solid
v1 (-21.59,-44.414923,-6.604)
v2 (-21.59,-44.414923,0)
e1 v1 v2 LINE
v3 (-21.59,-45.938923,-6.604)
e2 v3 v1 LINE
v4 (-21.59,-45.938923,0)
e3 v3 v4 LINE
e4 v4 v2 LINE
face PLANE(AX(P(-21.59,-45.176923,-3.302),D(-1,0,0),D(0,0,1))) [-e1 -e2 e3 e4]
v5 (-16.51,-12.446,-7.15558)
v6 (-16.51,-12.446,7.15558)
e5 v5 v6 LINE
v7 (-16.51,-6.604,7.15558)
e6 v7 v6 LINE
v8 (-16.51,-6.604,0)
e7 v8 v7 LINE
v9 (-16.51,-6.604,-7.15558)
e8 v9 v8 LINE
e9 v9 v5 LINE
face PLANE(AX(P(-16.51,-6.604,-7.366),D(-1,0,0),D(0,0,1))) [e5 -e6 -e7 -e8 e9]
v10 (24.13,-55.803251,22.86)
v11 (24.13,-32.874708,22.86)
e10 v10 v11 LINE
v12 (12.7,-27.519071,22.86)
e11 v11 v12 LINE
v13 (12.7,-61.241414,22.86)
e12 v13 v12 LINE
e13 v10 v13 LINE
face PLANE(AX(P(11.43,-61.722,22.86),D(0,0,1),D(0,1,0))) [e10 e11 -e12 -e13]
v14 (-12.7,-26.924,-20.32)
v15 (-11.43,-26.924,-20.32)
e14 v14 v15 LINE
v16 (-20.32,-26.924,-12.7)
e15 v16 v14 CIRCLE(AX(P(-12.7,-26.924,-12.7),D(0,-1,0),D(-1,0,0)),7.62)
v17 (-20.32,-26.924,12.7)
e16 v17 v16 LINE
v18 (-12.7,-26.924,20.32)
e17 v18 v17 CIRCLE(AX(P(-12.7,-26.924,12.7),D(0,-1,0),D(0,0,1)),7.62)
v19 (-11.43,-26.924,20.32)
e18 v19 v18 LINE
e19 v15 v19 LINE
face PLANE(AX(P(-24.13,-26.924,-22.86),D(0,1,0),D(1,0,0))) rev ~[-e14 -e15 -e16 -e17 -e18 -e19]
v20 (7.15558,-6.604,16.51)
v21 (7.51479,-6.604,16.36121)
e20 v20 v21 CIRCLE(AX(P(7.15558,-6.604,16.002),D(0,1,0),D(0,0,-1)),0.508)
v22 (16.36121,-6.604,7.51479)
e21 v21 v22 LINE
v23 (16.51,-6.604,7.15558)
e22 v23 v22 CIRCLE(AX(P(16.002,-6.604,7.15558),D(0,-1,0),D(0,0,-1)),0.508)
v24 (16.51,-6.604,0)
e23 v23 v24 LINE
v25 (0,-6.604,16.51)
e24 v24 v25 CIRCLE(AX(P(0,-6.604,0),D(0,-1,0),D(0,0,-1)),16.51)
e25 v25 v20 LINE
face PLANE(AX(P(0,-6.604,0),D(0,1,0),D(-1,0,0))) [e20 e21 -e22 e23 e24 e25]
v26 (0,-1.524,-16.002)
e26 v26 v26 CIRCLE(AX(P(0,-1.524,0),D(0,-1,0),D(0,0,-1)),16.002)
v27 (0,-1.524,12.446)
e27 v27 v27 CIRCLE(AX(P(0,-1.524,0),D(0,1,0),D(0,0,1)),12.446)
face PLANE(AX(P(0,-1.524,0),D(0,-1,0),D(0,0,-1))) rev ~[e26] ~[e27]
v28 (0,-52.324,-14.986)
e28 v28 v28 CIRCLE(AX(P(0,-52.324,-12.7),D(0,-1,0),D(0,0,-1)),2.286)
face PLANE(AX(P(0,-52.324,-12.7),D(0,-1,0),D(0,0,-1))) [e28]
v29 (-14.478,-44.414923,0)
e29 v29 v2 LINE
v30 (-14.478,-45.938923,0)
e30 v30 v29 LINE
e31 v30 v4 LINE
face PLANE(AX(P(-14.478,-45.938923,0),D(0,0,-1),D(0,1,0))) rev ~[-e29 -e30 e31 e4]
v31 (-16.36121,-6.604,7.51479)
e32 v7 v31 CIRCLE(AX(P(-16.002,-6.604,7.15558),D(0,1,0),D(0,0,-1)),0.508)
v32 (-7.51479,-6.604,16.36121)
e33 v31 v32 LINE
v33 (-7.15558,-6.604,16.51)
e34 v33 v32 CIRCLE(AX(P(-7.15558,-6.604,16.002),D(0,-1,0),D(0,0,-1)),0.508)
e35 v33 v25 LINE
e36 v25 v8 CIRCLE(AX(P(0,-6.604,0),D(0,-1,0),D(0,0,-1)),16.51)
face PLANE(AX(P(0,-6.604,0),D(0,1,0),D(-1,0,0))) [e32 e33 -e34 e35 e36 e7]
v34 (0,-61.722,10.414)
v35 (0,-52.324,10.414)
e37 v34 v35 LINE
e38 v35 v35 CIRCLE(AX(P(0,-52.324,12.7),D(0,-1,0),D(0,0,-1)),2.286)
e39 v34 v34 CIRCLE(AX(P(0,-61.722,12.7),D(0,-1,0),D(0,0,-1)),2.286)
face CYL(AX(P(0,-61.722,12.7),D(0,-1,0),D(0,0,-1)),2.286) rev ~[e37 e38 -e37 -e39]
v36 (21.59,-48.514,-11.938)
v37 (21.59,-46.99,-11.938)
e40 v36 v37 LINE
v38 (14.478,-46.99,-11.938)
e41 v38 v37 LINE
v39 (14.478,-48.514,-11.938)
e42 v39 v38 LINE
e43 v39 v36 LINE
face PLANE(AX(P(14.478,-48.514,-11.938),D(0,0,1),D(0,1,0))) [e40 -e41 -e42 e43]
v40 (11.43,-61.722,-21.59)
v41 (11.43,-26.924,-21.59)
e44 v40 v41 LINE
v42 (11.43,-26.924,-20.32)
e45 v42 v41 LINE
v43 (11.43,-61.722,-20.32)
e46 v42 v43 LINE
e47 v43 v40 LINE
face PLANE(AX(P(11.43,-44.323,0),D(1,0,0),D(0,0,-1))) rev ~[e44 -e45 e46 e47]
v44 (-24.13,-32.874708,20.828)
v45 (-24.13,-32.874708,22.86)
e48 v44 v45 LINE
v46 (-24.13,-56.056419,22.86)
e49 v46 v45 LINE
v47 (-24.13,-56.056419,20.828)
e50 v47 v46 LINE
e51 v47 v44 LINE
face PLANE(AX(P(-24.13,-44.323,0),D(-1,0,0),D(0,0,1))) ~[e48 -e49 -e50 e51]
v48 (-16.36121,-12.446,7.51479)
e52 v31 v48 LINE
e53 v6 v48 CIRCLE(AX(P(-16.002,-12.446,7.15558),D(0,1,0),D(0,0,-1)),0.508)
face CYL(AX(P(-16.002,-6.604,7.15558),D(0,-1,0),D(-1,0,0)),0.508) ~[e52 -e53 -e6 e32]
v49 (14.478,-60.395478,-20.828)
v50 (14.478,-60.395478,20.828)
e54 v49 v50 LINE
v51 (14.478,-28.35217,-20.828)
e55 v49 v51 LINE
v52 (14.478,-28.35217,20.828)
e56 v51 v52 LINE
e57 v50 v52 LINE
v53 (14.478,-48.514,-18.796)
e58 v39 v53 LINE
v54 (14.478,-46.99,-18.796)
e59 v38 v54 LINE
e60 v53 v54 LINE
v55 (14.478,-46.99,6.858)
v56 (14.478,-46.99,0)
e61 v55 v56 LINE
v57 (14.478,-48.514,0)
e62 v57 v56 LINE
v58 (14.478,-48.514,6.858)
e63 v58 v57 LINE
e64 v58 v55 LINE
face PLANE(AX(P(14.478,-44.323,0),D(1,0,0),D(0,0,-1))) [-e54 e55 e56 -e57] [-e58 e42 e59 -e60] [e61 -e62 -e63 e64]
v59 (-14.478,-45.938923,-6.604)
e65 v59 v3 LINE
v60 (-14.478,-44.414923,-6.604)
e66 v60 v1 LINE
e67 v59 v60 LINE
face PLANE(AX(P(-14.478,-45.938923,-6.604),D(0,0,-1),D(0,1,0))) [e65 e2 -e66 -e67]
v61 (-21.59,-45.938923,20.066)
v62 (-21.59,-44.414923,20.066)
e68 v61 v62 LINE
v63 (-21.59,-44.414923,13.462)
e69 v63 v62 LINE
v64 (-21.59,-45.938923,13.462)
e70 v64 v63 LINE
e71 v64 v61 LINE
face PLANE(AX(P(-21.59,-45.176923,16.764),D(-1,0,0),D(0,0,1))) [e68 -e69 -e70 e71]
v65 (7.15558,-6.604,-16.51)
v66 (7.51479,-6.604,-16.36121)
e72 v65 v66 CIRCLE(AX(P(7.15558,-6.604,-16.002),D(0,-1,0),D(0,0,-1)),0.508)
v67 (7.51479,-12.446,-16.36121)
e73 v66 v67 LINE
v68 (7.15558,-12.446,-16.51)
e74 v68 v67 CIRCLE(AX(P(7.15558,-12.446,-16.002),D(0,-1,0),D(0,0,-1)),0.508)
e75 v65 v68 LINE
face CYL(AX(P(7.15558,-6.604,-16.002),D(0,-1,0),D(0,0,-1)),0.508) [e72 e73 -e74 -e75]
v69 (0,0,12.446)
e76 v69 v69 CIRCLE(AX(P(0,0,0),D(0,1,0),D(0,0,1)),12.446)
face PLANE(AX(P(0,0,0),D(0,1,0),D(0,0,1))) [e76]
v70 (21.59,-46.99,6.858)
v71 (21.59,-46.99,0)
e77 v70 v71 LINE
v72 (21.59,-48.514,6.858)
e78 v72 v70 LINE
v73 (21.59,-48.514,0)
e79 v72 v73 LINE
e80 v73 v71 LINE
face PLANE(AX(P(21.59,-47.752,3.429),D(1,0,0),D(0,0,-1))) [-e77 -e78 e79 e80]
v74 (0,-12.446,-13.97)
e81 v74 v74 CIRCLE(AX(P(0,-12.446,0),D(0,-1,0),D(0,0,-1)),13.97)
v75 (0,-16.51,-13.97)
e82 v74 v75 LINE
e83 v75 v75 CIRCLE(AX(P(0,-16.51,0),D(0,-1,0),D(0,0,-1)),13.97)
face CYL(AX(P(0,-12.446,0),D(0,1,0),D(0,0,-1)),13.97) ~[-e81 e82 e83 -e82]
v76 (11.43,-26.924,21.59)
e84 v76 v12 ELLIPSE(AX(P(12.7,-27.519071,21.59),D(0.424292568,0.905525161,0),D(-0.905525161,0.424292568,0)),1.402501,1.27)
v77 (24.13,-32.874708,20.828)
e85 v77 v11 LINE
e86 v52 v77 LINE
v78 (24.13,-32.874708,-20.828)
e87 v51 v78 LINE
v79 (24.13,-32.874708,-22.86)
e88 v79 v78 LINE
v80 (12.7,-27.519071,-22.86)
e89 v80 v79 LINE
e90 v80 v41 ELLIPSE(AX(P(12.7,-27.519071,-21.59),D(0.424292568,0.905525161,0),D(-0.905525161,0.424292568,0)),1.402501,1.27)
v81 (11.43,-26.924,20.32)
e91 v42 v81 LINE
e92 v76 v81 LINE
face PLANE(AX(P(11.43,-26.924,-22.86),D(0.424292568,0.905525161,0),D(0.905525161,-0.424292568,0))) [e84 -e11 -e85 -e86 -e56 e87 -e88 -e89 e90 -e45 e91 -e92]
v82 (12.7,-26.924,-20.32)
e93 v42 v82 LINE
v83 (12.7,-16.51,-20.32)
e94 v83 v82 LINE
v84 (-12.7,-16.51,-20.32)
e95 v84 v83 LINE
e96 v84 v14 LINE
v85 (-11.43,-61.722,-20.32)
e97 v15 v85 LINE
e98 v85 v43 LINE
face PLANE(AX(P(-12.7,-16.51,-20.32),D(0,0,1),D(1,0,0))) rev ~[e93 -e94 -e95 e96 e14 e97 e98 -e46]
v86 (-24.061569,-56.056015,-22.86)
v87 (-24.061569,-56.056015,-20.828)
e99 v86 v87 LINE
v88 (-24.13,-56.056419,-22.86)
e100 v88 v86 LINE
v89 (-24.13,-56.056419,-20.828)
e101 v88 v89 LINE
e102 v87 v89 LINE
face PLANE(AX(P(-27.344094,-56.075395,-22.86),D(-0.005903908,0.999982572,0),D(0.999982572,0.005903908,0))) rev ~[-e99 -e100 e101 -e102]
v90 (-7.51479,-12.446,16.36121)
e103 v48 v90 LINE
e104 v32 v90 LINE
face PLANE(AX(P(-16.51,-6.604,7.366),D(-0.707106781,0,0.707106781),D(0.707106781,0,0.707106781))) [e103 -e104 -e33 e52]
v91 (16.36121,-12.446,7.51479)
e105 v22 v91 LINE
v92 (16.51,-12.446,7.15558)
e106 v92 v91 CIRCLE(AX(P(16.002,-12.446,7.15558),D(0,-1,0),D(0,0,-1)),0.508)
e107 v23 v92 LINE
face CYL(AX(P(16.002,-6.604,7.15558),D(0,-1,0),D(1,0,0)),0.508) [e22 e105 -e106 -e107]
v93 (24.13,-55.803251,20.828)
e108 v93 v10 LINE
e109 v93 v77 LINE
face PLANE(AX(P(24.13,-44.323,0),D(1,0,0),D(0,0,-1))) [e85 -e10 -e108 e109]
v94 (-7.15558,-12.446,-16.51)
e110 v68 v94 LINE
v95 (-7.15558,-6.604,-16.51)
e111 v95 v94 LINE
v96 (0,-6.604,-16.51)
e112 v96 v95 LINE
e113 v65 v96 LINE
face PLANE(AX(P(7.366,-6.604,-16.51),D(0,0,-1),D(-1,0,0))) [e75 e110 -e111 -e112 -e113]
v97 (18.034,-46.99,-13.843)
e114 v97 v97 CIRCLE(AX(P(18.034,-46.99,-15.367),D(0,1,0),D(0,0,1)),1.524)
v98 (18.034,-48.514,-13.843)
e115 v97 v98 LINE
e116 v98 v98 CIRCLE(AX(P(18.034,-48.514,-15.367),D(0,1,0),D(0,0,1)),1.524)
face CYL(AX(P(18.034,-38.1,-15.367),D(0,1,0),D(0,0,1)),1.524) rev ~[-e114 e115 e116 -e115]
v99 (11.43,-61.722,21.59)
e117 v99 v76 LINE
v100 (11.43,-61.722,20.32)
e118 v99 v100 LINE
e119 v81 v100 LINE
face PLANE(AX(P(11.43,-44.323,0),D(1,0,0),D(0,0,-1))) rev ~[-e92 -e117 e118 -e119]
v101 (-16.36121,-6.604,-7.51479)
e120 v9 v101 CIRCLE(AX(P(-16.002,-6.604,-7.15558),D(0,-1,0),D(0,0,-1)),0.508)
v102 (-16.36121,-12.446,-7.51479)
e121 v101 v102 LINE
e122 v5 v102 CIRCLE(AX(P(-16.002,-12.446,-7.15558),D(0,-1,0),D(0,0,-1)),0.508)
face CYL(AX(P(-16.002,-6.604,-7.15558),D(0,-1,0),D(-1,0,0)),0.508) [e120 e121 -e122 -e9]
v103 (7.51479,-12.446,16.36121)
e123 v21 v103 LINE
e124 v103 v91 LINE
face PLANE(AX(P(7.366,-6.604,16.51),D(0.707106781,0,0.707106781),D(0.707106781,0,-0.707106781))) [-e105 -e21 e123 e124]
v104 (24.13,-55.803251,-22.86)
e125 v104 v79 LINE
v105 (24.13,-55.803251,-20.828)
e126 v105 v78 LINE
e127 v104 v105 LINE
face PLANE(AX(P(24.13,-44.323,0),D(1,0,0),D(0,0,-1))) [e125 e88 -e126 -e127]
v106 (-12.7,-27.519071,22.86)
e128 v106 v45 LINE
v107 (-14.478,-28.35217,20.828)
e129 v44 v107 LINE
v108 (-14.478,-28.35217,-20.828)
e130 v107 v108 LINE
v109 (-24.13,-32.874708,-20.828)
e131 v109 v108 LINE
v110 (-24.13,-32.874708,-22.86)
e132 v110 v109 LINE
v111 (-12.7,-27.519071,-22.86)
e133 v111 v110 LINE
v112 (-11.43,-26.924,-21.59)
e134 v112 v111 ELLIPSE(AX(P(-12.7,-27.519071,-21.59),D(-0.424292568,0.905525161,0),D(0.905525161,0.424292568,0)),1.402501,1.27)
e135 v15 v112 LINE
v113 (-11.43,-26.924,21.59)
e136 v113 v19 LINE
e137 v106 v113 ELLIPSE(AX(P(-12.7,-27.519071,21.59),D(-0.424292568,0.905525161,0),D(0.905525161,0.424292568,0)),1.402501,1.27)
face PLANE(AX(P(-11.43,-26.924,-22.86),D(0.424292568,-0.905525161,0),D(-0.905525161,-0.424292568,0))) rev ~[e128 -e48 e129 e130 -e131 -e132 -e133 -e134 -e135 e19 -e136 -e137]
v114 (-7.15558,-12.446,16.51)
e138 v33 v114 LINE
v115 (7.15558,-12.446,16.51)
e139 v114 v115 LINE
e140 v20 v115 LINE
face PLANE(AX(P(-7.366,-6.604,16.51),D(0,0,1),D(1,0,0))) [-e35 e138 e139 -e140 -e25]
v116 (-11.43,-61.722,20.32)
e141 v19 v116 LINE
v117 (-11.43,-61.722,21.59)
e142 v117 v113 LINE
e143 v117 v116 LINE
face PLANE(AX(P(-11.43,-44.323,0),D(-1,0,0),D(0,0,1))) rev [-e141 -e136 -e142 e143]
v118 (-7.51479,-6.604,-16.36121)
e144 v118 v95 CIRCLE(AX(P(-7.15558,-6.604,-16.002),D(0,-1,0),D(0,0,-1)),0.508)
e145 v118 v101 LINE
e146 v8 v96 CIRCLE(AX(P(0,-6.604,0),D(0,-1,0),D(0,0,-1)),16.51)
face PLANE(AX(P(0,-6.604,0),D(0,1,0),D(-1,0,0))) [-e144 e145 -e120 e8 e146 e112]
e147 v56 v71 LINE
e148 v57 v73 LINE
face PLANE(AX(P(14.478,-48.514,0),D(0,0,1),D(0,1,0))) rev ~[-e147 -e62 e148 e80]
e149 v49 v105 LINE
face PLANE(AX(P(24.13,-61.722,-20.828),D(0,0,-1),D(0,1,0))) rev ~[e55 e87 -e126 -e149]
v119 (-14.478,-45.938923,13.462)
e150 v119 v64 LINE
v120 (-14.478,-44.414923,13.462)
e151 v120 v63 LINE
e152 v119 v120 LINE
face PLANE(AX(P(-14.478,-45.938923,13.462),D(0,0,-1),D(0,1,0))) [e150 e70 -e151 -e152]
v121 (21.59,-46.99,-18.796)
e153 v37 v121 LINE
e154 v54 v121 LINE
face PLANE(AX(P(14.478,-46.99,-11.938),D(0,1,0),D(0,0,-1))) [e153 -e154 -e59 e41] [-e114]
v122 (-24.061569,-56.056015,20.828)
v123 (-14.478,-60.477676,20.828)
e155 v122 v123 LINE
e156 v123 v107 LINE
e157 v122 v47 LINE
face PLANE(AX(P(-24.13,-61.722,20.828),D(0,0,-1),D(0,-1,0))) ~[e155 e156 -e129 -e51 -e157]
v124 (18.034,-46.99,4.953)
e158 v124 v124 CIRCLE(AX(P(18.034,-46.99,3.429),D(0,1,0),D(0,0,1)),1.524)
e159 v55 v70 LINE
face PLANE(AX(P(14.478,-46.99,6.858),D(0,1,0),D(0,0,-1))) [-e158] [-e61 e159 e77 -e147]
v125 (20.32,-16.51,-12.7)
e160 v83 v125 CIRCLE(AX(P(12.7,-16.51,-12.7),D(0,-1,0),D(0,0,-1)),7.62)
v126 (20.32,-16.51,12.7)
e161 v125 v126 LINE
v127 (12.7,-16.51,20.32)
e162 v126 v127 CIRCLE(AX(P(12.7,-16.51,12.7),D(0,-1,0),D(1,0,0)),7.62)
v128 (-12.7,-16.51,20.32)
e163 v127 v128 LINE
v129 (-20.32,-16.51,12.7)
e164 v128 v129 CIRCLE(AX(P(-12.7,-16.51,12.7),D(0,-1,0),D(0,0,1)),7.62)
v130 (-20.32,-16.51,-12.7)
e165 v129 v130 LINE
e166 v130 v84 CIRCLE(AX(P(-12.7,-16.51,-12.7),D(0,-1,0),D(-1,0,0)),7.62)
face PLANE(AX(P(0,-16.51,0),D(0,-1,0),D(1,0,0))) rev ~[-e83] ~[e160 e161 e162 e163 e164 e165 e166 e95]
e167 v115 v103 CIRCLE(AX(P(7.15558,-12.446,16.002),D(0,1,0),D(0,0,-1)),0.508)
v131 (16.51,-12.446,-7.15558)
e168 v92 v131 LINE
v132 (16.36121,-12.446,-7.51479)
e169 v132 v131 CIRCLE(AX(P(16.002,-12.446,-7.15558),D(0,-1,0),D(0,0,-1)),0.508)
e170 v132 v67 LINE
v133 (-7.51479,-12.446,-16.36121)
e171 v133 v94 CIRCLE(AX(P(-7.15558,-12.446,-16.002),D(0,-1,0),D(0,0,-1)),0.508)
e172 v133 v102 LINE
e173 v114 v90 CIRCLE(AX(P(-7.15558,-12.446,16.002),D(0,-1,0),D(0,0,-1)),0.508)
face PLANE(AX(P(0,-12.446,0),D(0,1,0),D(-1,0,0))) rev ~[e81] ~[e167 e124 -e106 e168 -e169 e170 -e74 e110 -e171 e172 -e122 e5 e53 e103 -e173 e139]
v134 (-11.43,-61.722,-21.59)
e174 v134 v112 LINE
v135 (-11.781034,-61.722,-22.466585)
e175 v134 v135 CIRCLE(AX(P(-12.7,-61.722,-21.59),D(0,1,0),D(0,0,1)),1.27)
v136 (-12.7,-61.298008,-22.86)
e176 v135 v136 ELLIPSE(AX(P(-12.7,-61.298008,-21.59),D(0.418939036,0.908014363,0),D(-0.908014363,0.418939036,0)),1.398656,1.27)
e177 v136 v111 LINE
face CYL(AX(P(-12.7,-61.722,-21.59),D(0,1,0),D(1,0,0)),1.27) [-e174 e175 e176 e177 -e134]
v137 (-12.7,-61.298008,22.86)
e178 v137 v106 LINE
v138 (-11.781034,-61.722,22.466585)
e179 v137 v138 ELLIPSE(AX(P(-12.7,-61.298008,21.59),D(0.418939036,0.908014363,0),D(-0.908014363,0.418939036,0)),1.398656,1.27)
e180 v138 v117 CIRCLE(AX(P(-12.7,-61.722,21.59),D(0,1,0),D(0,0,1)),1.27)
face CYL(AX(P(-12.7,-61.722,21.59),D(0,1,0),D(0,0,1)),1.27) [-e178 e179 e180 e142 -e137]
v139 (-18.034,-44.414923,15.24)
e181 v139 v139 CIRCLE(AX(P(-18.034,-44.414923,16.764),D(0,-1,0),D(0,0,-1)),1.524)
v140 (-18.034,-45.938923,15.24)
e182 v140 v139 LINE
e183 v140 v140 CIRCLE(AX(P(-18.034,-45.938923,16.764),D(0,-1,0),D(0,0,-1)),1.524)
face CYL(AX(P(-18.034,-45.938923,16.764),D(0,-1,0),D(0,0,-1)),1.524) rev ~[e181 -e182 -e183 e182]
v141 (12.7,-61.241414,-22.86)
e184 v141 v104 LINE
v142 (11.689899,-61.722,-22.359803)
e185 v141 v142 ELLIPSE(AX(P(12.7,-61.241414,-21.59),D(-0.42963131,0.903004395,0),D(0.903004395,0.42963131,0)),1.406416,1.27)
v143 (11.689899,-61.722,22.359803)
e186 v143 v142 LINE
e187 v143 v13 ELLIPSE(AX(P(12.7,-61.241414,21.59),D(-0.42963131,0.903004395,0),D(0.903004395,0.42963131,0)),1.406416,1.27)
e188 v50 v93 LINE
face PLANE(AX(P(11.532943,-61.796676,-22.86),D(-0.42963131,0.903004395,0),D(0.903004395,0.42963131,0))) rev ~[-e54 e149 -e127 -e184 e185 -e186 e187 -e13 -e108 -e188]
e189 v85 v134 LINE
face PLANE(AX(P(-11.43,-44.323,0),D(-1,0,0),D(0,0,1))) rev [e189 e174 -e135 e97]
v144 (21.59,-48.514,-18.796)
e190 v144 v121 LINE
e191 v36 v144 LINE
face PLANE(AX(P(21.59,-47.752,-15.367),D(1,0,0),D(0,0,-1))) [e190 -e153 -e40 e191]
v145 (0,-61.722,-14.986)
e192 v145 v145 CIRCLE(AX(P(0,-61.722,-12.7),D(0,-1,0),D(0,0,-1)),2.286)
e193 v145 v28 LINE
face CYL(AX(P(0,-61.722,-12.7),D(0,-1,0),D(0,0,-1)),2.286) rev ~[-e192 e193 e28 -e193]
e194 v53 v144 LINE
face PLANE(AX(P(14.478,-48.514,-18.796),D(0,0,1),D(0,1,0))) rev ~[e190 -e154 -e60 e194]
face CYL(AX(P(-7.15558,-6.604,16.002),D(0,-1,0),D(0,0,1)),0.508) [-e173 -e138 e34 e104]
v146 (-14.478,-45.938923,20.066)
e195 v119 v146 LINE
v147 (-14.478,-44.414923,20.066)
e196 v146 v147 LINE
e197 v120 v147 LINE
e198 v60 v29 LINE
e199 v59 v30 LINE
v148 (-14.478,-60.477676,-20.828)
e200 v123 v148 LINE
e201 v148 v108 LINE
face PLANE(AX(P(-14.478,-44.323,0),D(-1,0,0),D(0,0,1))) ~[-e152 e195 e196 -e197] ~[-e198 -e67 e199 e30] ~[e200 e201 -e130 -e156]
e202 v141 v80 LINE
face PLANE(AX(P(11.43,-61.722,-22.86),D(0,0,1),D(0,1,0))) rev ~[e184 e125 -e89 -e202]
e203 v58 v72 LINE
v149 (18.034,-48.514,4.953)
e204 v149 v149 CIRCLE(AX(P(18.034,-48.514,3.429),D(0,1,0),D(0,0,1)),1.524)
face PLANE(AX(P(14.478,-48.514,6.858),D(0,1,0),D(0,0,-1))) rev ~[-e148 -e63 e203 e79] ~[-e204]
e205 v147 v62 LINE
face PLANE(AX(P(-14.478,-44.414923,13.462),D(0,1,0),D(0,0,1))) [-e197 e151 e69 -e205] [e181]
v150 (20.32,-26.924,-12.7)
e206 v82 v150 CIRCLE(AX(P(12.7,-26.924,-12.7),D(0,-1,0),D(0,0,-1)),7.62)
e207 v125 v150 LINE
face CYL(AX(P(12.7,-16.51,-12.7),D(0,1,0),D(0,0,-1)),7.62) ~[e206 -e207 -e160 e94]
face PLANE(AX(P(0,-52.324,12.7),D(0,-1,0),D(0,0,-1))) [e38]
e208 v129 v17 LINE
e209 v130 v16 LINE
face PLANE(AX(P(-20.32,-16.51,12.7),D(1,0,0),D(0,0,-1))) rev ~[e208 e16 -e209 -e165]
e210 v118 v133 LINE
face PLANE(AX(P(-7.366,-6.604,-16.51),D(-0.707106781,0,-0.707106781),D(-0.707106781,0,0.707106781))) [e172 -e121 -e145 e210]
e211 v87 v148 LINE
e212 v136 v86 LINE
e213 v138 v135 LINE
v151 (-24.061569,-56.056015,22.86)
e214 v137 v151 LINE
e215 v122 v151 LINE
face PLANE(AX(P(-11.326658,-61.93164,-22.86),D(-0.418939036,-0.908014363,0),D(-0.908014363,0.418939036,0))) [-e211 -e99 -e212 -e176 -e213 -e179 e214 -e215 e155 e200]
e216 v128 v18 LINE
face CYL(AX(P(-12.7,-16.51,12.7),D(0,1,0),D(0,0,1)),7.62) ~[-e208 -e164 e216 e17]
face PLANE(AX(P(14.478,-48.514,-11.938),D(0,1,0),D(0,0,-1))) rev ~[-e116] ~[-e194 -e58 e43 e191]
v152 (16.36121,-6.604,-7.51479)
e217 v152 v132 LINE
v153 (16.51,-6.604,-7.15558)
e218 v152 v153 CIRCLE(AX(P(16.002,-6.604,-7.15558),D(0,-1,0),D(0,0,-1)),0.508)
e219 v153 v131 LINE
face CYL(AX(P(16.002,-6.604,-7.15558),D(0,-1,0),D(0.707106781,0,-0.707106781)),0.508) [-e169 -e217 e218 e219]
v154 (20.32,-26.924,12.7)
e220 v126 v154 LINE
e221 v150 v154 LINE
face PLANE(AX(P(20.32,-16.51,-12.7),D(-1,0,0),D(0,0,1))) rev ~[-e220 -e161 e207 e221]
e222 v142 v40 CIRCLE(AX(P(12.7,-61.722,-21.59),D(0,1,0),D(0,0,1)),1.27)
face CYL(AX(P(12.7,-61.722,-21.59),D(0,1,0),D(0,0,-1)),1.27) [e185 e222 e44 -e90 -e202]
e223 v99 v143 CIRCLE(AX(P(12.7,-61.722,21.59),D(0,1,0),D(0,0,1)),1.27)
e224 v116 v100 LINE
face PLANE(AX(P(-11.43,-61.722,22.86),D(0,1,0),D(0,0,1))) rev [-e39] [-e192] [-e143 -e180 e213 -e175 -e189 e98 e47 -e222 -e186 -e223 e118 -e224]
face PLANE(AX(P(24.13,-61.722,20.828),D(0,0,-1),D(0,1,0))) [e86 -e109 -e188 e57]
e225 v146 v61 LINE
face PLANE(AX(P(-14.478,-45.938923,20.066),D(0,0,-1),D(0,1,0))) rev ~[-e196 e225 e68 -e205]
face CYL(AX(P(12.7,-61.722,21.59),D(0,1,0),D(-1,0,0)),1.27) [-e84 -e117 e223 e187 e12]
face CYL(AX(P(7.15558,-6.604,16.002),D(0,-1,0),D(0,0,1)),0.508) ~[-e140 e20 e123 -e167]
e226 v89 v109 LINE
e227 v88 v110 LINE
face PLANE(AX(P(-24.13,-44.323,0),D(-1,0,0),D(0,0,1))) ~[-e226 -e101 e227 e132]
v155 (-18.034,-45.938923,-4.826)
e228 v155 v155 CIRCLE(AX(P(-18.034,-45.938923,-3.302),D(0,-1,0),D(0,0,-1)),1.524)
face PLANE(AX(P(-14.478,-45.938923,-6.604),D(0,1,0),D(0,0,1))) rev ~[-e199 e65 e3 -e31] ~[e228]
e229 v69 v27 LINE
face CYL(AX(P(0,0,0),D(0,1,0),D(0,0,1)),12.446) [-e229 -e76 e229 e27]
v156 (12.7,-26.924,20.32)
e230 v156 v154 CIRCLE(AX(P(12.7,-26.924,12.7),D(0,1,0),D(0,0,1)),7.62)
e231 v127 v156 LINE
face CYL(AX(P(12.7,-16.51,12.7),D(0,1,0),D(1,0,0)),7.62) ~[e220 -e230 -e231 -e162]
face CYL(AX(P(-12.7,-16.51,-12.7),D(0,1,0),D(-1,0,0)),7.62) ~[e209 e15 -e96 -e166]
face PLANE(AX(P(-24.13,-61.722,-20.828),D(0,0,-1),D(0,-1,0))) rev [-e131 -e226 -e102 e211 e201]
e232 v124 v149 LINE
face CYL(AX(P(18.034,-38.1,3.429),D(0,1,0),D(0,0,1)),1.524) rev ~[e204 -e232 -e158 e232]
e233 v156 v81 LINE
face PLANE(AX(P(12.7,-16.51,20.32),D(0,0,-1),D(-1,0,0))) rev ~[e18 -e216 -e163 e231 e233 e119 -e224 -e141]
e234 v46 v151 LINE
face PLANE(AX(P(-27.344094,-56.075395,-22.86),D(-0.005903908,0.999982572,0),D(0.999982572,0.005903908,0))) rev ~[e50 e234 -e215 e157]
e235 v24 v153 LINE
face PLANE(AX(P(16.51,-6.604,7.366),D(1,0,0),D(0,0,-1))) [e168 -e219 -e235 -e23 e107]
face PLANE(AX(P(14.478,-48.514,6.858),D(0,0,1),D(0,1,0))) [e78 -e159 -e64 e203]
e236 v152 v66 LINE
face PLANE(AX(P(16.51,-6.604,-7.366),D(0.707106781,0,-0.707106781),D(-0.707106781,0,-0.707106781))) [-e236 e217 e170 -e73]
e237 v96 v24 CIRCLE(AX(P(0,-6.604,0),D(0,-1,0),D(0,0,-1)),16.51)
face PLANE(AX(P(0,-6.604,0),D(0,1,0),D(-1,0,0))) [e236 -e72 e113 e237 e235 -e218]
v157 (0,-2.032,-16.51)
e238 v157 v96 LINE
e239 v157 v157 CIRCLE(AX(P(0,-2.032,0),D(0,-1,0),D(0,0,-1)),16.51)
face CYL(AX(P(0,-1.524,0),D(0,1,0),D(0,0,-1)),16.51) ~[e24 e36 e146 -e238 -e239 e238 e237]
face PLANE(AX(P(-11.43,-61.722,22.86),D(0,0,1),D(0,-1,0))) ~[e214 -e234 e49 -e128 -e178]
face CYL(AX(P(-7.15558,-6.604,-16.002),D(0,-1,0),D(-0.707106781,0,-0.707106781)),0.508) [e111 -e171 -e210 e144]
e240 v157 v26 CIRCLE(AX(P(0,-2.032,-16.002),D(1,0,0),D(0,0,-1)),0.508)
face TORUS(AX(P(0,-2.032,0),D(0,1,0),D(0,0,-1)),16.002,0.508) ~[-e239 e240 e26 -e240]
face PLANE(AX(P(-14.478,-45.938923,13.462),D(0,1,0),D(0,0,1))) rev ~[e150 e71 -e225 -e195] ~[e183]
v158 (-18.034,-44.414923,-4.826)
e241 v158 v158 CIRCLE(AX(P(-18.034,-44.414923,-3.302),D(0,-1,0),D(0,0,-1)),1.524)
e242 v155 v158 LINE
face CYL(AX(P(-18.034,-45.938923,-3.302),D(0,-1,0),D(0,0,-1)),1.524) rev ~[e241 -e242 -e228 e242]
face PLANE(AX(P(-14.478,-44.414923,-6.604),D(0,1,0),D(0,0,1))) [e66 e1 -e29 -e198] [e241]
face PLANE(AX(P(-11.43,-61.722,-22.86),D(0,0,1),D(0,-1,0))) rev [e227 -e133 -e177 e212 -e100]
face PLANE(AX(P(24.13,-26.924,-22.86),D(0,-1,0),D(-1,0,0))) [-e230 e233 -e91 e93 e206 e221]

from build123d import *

# Parameters (mm, degrees)
SKETCH1_R           = 12.446
BOSS_EXTRUDE1_DEPTH = 1.524
SKETCH2_R           = 16.51
BOSS_EXTRUDE2_DEPTH = 5.08
BOSS_EXTRUDE3_DEPTH = 5.842
FILLET1_R           = 0.508
FILLET2_R           = 0.508
SKETCH4_R           = 13.97
BOSS_EXTRUDE4_DEPTH = 4.064
BOSS_EXTRUDE5_DEPTH = 10.414
SKETCH6_W           = 22.86
SKETCH6_H           = 40.64
BOSS_EXTRUDE6_DEPTH = 34.798
SKETCH7_R           = 2.286
CUT_EXTRUDE1_DEPTH  = 9.398
SKETCH9_W           = 45.72
SKETCH9_H           = 34.798
BOSS_EXTRUDE7_DEPTH = 12.7
SKETCH10_W          = 41.656
SKETCH10_H          = 34.798
CUT_EXTRUDE2_DEPTH  = 9.652
CUT_EXTRUDE4_DEPTH  = 81.511990312
CUT_EXTRUDE5_DEPTH  = 81.511990312
SKETCH13_W          = 6.858
SKETCH13_H          = 1.524
BOSS_EXTRUDE8_DEPTH = 7.112
SKETCH14_W          = 6.604
SKETCH14_H          = 1.524
BOSS_EXTRUDE9_DEPTH = 7.112
SKETCH16_R          = 1.524
CUT_EXTRUDE7_DEPTH  = 7.112
SKETCH17_R          = 1.524
CUT_EXTRUDE8_DEPTH  = 12.7
FILLET3_R           = 1.27


with BuildPart() as part:
    # Sketch1 → Boss-Extrude1 (new body)
    with BuildSketch(Plane(origin=(0, 0, 0), x_dir=(1, 0, 0), z_dir=(0, 1, 0))):
        with Locations(Location((0, 0, 0), (0, 0, 270))):
            Circle(SKETCH1_R)
    extrude(amount=-BOSS_EXTRUDE1_DEPTH)

    # Sketch2 → Boss-Extrude2 (add)
    with BuildSketch(Plane.XZ.offset(1.524)):
        with Locations(Location((0, 0, 0), (0, 0, 270))):
            Circle(SKETCH2_R)
    extrude(amount=BOSS_EXTRUDE2_DEPTH)

    # Sketch3 → Boss-Extrude3 (add)
    with BuildSketch(Plane.XZ.offset(6.604)):
        Polygon((16.51, 7.366), (16.51, -7.366), (7.366, -16.51), (-7.366, -16.51), (-16.51, -7.366), (-16.51, 7.366), (-7.366, 16.51), (7.366, 16.51), align=None)
    extrude(amount=BOSS_EXTRUDE3_DEPTH)

    # Fillet1
    fillet1_edges = [part.edges().sort_by_distance(p)[0] for p in [
        (0, -1.524, 16.51),
    ]]
    fillet(fillet1_edges, radius=FILLET1_R)

    # Fillet2
    fillet2_edges = [part.edges().sort_by_distance(p)[0] for p in [
        (7.366, -9.525, -16.51),
        (16.51, -9.525, -7.366),
        (16.51, -9.525, 7.366),
        (7.366, -9.525, 16.51),
        (-7.366, -9.525, 16.51),
        (-16.51, -9.525, 7.366),
        (-16.51, -9.525, -7.366),
        (-7.366, -9.525, -16.51),
    ]]
    fillet(fillet2_edges, radius=FILLET2_R)

    # Sketch4 → Boss-Extrude4 (add)
    with BuildSketch(Plane.XZ.offset(12.446)):
        with Locations(Location((0, 0, 0), (0, 0, 270))):
            Circle(SKETCH4_R)
    extrude(amount=BOSS_EXTRUDE4_DEPTH)

    # Sketch5 → Boss-Extrude5 (add)
    with BuildSketch(Plane.XZ.offset(16.51)):
        with BuildLine():
            Line((12.7, 20.32), (-12.7, 20.32))
            ThreePointArc((-12.7, 20.32), (-18.088153673, 18.088153673), (-20.32, 12.7))
            Line((-20.32, 12.7), (-20.32, -12.7))
            ThreePointArc((-20.32, -12.7), (-18.088153673, -18.088153673), (-12.7, -20.32))
            Line((-12.7, -20.32), (12.7, -20.32))
            ThreePointArc((12.7, -20.32), (18.088153673, -18.088153673), (20.32, -12.7))
            Line((20.32, -12.7), (20.32, 12.7))
            ThreePointArc((20.32, 12.7), (18.088153673, 18.088153673), (12.7, 20.32))
        make_face()
    extrude(amount=BOSS_EXTRUDE5_DEPTH)

    # Sketch6 → Boss-Extrude6 (add)
    with BuildSketch(Plane.XZ.offset(26.924)):
        Rectangle(SKETCH6_W, SKETCH6_H)
    extrude(amount=BOSS_EXTRUDE6_DEPTH)

    # Sketch7 → Cut-Extrude1 (cut)
    with BuildSketch(Plane.XZ.offset(61.722)):
        with Locations(Location((0, -12.7, 0), (0, 0, 270))):
            Circle(SKETCH7_R)
        with Locations(Location((0, 12.7, 0), (0, 0, 270))):
            Circle(SKETCH7_R)
    extrude(amount=-CUT_EXTRUDE1_DEPTH, mode=Mode.SUBTRACT)

    # Sketch9 → Boss-Extrude7 (add)
    with BuildSketch(Plane(origin=(11.43, 0, 0), x_dir=(0, 0, -1), z_dir=(1, 0, 0))):
        with Locations((0, -44.323)):
            Rectangle(SKETCH9_W, SKETCH9_H)
    boss_extrude7 = extrude(amount=BOSS_EXTRUDE7_DEPTH)

    # Mirror1: Boss-Extrude7 across plane
    add(boss_extrude7.mirror(Plane(origin=(0, 0, 0), x_dir=(0, 0, 1), z_dir=(1, 0, 0))))

    # Sketch10 → Cut-Extrude2 (cut)
    with BuildSketch(Plane(origin=(24.13, 0, 0), x_dir=(0, 0, -1), z_dir=(1, 0, 0))):
        with Locations((0, -44.323)):
            Rectangle(SKETCH10_W, SKETCH10_H)
    cut_extrude2 = extrude(amount=-CUT_EXTRUDE2_DEPTH, mode=Mode.SUBTRACT)

    # Mirror2: Cut-Extrude2 across plane
    add(cut_extrude2.mirror(Plane(origin=(0, 0, 0), x_dir=(0, 0, 1), z_dir=(1, 0, 0))), mode=Mode.SUBTRACT)

    # Sketch11 → Cut-Extrude4 (cut, through all)
    with BuildSketch(Plane(origin=(0, 0, -22.86), x_dir=(-1, 0, 0), z_dir=(0, 0, -1))):
        Polygon((-11.43, -26.924), (-24.13, -32.874707767), (-24.13, -26.924), align=None)
        Polygon((24.13, -32.874707767), (24.13, -26.924), (11.43, -26.924), align=None)
        Polygon((11.326658159, -61.931639732), (24.061569251, -56.056015305), (24.026436821, -62.006619362), align=None)
        Polygon((-24.197589663, -55.77109271), (-24.232722094, -61.721696766), (-11.532943432, -61.796676397), align=None)
    extrude(amount=-CUT_EXTRUDE4_DEPTH, mode=Mode.SUBTRACT)

    # Sketch12 → Cut-Extrude5 (cut, through all)
    with BuildSketch(Plane(origin=(0, 0, -22.86), x_dir=(-1, 0, 0), z_dir=(0, 0, -1))):
        Polygon((27.344093716, -61.722), (27.344093716, -56.075395365), (24.061569251, -56.056015305), (20.546985538, -61.722), align=None)
    extrude(amount=-CUT_EXTRUDE5_DEPTH, mode=Mode.SUBTRACT)

    # Sketch13 → Boss-Extrude8 (add)
    with BuildSketch(Plane(origin=(14.478, 0, 0), x_dir=(0, 0, -1), z_dir=(1, 0, 0))):
        with Locations((-3.429, -47.752)):
            Rectangle(SKETCH13_W, SKETCH13_H)
        with Locations((15.367, -47.752)):
            Rectangle(SKETCH13_W, SKETCH13_H)
    extrude(amount=BOSS_EXTRUDE8_DEPTH)

    # Sketch14 → Boss-Extrude9 (add)
    with BuildSketch(Plane.ZY.offset(14.478)):
        with Locations((-3.302, -45.176922844)):
            Rectangle(SKETCH14_W, SKETCH14_H)
        with Locations((16.764, -45.176922844)):
            Rectangle(SKETCH14_W, SKETCH14_H)
    extrude(amount=BOSS_EXTRUDE9_DEPTH)

    # Sketch16 → Cut-Extrude7 (cut)
    with BuildSketch(Plane.XZ.offset(45.938922844)):
        with Locations(Location((-18.034, -3.302, 0), (0, 0, 270))):
            Circle(SKETCH16_R)
        with Locations(Location((-18.034, 16.764, 0), (0, 0, 270))):
            Circle(SKETCH16_R)
        with Locations((18.034, 3.429)):
            Circle(SKETCH16_R)
        with Locations((18.034, -15.367)):
            Circle(SKETCH16_R)
    extrude(amount=-CUT_EXTRUDE7_DEPTH, mode=Mode.SUBTRACT)

    # Sketch17 → Cut-Extrude8 (cut)
    with BuildSketch(Plane(origin=(0, -38.1, 0), x_dir=(1, 0, 0), z_dir=(0, 1, 0))):
        with Locations(Location((18.034, 15.367, 0), (0, 0, 270))):
            Circle(SKETCH17_R)
        with Locations(Location((18.034, -3.429, 0), (0, 0, 270))):
            Circle(SKETCH17_R)
    extrude(amount=-CUT_EXTRUDE8_DEPTH, mode=Mode.SUBTRACT)

    # Fillet3
    fillet3_edges = [part.edges().sort_by_distance(p)[0] for p in [
        (-11.43, -44.323, -22.86),
        (11.43, -44.323, -22.86),
        (-11.43, -44.323, 22.86),
        (11.43, -44.323, 22.86),
    ]]
    fillet(fillet3_edges, radius=FILLET3_R)


solid = part.part
